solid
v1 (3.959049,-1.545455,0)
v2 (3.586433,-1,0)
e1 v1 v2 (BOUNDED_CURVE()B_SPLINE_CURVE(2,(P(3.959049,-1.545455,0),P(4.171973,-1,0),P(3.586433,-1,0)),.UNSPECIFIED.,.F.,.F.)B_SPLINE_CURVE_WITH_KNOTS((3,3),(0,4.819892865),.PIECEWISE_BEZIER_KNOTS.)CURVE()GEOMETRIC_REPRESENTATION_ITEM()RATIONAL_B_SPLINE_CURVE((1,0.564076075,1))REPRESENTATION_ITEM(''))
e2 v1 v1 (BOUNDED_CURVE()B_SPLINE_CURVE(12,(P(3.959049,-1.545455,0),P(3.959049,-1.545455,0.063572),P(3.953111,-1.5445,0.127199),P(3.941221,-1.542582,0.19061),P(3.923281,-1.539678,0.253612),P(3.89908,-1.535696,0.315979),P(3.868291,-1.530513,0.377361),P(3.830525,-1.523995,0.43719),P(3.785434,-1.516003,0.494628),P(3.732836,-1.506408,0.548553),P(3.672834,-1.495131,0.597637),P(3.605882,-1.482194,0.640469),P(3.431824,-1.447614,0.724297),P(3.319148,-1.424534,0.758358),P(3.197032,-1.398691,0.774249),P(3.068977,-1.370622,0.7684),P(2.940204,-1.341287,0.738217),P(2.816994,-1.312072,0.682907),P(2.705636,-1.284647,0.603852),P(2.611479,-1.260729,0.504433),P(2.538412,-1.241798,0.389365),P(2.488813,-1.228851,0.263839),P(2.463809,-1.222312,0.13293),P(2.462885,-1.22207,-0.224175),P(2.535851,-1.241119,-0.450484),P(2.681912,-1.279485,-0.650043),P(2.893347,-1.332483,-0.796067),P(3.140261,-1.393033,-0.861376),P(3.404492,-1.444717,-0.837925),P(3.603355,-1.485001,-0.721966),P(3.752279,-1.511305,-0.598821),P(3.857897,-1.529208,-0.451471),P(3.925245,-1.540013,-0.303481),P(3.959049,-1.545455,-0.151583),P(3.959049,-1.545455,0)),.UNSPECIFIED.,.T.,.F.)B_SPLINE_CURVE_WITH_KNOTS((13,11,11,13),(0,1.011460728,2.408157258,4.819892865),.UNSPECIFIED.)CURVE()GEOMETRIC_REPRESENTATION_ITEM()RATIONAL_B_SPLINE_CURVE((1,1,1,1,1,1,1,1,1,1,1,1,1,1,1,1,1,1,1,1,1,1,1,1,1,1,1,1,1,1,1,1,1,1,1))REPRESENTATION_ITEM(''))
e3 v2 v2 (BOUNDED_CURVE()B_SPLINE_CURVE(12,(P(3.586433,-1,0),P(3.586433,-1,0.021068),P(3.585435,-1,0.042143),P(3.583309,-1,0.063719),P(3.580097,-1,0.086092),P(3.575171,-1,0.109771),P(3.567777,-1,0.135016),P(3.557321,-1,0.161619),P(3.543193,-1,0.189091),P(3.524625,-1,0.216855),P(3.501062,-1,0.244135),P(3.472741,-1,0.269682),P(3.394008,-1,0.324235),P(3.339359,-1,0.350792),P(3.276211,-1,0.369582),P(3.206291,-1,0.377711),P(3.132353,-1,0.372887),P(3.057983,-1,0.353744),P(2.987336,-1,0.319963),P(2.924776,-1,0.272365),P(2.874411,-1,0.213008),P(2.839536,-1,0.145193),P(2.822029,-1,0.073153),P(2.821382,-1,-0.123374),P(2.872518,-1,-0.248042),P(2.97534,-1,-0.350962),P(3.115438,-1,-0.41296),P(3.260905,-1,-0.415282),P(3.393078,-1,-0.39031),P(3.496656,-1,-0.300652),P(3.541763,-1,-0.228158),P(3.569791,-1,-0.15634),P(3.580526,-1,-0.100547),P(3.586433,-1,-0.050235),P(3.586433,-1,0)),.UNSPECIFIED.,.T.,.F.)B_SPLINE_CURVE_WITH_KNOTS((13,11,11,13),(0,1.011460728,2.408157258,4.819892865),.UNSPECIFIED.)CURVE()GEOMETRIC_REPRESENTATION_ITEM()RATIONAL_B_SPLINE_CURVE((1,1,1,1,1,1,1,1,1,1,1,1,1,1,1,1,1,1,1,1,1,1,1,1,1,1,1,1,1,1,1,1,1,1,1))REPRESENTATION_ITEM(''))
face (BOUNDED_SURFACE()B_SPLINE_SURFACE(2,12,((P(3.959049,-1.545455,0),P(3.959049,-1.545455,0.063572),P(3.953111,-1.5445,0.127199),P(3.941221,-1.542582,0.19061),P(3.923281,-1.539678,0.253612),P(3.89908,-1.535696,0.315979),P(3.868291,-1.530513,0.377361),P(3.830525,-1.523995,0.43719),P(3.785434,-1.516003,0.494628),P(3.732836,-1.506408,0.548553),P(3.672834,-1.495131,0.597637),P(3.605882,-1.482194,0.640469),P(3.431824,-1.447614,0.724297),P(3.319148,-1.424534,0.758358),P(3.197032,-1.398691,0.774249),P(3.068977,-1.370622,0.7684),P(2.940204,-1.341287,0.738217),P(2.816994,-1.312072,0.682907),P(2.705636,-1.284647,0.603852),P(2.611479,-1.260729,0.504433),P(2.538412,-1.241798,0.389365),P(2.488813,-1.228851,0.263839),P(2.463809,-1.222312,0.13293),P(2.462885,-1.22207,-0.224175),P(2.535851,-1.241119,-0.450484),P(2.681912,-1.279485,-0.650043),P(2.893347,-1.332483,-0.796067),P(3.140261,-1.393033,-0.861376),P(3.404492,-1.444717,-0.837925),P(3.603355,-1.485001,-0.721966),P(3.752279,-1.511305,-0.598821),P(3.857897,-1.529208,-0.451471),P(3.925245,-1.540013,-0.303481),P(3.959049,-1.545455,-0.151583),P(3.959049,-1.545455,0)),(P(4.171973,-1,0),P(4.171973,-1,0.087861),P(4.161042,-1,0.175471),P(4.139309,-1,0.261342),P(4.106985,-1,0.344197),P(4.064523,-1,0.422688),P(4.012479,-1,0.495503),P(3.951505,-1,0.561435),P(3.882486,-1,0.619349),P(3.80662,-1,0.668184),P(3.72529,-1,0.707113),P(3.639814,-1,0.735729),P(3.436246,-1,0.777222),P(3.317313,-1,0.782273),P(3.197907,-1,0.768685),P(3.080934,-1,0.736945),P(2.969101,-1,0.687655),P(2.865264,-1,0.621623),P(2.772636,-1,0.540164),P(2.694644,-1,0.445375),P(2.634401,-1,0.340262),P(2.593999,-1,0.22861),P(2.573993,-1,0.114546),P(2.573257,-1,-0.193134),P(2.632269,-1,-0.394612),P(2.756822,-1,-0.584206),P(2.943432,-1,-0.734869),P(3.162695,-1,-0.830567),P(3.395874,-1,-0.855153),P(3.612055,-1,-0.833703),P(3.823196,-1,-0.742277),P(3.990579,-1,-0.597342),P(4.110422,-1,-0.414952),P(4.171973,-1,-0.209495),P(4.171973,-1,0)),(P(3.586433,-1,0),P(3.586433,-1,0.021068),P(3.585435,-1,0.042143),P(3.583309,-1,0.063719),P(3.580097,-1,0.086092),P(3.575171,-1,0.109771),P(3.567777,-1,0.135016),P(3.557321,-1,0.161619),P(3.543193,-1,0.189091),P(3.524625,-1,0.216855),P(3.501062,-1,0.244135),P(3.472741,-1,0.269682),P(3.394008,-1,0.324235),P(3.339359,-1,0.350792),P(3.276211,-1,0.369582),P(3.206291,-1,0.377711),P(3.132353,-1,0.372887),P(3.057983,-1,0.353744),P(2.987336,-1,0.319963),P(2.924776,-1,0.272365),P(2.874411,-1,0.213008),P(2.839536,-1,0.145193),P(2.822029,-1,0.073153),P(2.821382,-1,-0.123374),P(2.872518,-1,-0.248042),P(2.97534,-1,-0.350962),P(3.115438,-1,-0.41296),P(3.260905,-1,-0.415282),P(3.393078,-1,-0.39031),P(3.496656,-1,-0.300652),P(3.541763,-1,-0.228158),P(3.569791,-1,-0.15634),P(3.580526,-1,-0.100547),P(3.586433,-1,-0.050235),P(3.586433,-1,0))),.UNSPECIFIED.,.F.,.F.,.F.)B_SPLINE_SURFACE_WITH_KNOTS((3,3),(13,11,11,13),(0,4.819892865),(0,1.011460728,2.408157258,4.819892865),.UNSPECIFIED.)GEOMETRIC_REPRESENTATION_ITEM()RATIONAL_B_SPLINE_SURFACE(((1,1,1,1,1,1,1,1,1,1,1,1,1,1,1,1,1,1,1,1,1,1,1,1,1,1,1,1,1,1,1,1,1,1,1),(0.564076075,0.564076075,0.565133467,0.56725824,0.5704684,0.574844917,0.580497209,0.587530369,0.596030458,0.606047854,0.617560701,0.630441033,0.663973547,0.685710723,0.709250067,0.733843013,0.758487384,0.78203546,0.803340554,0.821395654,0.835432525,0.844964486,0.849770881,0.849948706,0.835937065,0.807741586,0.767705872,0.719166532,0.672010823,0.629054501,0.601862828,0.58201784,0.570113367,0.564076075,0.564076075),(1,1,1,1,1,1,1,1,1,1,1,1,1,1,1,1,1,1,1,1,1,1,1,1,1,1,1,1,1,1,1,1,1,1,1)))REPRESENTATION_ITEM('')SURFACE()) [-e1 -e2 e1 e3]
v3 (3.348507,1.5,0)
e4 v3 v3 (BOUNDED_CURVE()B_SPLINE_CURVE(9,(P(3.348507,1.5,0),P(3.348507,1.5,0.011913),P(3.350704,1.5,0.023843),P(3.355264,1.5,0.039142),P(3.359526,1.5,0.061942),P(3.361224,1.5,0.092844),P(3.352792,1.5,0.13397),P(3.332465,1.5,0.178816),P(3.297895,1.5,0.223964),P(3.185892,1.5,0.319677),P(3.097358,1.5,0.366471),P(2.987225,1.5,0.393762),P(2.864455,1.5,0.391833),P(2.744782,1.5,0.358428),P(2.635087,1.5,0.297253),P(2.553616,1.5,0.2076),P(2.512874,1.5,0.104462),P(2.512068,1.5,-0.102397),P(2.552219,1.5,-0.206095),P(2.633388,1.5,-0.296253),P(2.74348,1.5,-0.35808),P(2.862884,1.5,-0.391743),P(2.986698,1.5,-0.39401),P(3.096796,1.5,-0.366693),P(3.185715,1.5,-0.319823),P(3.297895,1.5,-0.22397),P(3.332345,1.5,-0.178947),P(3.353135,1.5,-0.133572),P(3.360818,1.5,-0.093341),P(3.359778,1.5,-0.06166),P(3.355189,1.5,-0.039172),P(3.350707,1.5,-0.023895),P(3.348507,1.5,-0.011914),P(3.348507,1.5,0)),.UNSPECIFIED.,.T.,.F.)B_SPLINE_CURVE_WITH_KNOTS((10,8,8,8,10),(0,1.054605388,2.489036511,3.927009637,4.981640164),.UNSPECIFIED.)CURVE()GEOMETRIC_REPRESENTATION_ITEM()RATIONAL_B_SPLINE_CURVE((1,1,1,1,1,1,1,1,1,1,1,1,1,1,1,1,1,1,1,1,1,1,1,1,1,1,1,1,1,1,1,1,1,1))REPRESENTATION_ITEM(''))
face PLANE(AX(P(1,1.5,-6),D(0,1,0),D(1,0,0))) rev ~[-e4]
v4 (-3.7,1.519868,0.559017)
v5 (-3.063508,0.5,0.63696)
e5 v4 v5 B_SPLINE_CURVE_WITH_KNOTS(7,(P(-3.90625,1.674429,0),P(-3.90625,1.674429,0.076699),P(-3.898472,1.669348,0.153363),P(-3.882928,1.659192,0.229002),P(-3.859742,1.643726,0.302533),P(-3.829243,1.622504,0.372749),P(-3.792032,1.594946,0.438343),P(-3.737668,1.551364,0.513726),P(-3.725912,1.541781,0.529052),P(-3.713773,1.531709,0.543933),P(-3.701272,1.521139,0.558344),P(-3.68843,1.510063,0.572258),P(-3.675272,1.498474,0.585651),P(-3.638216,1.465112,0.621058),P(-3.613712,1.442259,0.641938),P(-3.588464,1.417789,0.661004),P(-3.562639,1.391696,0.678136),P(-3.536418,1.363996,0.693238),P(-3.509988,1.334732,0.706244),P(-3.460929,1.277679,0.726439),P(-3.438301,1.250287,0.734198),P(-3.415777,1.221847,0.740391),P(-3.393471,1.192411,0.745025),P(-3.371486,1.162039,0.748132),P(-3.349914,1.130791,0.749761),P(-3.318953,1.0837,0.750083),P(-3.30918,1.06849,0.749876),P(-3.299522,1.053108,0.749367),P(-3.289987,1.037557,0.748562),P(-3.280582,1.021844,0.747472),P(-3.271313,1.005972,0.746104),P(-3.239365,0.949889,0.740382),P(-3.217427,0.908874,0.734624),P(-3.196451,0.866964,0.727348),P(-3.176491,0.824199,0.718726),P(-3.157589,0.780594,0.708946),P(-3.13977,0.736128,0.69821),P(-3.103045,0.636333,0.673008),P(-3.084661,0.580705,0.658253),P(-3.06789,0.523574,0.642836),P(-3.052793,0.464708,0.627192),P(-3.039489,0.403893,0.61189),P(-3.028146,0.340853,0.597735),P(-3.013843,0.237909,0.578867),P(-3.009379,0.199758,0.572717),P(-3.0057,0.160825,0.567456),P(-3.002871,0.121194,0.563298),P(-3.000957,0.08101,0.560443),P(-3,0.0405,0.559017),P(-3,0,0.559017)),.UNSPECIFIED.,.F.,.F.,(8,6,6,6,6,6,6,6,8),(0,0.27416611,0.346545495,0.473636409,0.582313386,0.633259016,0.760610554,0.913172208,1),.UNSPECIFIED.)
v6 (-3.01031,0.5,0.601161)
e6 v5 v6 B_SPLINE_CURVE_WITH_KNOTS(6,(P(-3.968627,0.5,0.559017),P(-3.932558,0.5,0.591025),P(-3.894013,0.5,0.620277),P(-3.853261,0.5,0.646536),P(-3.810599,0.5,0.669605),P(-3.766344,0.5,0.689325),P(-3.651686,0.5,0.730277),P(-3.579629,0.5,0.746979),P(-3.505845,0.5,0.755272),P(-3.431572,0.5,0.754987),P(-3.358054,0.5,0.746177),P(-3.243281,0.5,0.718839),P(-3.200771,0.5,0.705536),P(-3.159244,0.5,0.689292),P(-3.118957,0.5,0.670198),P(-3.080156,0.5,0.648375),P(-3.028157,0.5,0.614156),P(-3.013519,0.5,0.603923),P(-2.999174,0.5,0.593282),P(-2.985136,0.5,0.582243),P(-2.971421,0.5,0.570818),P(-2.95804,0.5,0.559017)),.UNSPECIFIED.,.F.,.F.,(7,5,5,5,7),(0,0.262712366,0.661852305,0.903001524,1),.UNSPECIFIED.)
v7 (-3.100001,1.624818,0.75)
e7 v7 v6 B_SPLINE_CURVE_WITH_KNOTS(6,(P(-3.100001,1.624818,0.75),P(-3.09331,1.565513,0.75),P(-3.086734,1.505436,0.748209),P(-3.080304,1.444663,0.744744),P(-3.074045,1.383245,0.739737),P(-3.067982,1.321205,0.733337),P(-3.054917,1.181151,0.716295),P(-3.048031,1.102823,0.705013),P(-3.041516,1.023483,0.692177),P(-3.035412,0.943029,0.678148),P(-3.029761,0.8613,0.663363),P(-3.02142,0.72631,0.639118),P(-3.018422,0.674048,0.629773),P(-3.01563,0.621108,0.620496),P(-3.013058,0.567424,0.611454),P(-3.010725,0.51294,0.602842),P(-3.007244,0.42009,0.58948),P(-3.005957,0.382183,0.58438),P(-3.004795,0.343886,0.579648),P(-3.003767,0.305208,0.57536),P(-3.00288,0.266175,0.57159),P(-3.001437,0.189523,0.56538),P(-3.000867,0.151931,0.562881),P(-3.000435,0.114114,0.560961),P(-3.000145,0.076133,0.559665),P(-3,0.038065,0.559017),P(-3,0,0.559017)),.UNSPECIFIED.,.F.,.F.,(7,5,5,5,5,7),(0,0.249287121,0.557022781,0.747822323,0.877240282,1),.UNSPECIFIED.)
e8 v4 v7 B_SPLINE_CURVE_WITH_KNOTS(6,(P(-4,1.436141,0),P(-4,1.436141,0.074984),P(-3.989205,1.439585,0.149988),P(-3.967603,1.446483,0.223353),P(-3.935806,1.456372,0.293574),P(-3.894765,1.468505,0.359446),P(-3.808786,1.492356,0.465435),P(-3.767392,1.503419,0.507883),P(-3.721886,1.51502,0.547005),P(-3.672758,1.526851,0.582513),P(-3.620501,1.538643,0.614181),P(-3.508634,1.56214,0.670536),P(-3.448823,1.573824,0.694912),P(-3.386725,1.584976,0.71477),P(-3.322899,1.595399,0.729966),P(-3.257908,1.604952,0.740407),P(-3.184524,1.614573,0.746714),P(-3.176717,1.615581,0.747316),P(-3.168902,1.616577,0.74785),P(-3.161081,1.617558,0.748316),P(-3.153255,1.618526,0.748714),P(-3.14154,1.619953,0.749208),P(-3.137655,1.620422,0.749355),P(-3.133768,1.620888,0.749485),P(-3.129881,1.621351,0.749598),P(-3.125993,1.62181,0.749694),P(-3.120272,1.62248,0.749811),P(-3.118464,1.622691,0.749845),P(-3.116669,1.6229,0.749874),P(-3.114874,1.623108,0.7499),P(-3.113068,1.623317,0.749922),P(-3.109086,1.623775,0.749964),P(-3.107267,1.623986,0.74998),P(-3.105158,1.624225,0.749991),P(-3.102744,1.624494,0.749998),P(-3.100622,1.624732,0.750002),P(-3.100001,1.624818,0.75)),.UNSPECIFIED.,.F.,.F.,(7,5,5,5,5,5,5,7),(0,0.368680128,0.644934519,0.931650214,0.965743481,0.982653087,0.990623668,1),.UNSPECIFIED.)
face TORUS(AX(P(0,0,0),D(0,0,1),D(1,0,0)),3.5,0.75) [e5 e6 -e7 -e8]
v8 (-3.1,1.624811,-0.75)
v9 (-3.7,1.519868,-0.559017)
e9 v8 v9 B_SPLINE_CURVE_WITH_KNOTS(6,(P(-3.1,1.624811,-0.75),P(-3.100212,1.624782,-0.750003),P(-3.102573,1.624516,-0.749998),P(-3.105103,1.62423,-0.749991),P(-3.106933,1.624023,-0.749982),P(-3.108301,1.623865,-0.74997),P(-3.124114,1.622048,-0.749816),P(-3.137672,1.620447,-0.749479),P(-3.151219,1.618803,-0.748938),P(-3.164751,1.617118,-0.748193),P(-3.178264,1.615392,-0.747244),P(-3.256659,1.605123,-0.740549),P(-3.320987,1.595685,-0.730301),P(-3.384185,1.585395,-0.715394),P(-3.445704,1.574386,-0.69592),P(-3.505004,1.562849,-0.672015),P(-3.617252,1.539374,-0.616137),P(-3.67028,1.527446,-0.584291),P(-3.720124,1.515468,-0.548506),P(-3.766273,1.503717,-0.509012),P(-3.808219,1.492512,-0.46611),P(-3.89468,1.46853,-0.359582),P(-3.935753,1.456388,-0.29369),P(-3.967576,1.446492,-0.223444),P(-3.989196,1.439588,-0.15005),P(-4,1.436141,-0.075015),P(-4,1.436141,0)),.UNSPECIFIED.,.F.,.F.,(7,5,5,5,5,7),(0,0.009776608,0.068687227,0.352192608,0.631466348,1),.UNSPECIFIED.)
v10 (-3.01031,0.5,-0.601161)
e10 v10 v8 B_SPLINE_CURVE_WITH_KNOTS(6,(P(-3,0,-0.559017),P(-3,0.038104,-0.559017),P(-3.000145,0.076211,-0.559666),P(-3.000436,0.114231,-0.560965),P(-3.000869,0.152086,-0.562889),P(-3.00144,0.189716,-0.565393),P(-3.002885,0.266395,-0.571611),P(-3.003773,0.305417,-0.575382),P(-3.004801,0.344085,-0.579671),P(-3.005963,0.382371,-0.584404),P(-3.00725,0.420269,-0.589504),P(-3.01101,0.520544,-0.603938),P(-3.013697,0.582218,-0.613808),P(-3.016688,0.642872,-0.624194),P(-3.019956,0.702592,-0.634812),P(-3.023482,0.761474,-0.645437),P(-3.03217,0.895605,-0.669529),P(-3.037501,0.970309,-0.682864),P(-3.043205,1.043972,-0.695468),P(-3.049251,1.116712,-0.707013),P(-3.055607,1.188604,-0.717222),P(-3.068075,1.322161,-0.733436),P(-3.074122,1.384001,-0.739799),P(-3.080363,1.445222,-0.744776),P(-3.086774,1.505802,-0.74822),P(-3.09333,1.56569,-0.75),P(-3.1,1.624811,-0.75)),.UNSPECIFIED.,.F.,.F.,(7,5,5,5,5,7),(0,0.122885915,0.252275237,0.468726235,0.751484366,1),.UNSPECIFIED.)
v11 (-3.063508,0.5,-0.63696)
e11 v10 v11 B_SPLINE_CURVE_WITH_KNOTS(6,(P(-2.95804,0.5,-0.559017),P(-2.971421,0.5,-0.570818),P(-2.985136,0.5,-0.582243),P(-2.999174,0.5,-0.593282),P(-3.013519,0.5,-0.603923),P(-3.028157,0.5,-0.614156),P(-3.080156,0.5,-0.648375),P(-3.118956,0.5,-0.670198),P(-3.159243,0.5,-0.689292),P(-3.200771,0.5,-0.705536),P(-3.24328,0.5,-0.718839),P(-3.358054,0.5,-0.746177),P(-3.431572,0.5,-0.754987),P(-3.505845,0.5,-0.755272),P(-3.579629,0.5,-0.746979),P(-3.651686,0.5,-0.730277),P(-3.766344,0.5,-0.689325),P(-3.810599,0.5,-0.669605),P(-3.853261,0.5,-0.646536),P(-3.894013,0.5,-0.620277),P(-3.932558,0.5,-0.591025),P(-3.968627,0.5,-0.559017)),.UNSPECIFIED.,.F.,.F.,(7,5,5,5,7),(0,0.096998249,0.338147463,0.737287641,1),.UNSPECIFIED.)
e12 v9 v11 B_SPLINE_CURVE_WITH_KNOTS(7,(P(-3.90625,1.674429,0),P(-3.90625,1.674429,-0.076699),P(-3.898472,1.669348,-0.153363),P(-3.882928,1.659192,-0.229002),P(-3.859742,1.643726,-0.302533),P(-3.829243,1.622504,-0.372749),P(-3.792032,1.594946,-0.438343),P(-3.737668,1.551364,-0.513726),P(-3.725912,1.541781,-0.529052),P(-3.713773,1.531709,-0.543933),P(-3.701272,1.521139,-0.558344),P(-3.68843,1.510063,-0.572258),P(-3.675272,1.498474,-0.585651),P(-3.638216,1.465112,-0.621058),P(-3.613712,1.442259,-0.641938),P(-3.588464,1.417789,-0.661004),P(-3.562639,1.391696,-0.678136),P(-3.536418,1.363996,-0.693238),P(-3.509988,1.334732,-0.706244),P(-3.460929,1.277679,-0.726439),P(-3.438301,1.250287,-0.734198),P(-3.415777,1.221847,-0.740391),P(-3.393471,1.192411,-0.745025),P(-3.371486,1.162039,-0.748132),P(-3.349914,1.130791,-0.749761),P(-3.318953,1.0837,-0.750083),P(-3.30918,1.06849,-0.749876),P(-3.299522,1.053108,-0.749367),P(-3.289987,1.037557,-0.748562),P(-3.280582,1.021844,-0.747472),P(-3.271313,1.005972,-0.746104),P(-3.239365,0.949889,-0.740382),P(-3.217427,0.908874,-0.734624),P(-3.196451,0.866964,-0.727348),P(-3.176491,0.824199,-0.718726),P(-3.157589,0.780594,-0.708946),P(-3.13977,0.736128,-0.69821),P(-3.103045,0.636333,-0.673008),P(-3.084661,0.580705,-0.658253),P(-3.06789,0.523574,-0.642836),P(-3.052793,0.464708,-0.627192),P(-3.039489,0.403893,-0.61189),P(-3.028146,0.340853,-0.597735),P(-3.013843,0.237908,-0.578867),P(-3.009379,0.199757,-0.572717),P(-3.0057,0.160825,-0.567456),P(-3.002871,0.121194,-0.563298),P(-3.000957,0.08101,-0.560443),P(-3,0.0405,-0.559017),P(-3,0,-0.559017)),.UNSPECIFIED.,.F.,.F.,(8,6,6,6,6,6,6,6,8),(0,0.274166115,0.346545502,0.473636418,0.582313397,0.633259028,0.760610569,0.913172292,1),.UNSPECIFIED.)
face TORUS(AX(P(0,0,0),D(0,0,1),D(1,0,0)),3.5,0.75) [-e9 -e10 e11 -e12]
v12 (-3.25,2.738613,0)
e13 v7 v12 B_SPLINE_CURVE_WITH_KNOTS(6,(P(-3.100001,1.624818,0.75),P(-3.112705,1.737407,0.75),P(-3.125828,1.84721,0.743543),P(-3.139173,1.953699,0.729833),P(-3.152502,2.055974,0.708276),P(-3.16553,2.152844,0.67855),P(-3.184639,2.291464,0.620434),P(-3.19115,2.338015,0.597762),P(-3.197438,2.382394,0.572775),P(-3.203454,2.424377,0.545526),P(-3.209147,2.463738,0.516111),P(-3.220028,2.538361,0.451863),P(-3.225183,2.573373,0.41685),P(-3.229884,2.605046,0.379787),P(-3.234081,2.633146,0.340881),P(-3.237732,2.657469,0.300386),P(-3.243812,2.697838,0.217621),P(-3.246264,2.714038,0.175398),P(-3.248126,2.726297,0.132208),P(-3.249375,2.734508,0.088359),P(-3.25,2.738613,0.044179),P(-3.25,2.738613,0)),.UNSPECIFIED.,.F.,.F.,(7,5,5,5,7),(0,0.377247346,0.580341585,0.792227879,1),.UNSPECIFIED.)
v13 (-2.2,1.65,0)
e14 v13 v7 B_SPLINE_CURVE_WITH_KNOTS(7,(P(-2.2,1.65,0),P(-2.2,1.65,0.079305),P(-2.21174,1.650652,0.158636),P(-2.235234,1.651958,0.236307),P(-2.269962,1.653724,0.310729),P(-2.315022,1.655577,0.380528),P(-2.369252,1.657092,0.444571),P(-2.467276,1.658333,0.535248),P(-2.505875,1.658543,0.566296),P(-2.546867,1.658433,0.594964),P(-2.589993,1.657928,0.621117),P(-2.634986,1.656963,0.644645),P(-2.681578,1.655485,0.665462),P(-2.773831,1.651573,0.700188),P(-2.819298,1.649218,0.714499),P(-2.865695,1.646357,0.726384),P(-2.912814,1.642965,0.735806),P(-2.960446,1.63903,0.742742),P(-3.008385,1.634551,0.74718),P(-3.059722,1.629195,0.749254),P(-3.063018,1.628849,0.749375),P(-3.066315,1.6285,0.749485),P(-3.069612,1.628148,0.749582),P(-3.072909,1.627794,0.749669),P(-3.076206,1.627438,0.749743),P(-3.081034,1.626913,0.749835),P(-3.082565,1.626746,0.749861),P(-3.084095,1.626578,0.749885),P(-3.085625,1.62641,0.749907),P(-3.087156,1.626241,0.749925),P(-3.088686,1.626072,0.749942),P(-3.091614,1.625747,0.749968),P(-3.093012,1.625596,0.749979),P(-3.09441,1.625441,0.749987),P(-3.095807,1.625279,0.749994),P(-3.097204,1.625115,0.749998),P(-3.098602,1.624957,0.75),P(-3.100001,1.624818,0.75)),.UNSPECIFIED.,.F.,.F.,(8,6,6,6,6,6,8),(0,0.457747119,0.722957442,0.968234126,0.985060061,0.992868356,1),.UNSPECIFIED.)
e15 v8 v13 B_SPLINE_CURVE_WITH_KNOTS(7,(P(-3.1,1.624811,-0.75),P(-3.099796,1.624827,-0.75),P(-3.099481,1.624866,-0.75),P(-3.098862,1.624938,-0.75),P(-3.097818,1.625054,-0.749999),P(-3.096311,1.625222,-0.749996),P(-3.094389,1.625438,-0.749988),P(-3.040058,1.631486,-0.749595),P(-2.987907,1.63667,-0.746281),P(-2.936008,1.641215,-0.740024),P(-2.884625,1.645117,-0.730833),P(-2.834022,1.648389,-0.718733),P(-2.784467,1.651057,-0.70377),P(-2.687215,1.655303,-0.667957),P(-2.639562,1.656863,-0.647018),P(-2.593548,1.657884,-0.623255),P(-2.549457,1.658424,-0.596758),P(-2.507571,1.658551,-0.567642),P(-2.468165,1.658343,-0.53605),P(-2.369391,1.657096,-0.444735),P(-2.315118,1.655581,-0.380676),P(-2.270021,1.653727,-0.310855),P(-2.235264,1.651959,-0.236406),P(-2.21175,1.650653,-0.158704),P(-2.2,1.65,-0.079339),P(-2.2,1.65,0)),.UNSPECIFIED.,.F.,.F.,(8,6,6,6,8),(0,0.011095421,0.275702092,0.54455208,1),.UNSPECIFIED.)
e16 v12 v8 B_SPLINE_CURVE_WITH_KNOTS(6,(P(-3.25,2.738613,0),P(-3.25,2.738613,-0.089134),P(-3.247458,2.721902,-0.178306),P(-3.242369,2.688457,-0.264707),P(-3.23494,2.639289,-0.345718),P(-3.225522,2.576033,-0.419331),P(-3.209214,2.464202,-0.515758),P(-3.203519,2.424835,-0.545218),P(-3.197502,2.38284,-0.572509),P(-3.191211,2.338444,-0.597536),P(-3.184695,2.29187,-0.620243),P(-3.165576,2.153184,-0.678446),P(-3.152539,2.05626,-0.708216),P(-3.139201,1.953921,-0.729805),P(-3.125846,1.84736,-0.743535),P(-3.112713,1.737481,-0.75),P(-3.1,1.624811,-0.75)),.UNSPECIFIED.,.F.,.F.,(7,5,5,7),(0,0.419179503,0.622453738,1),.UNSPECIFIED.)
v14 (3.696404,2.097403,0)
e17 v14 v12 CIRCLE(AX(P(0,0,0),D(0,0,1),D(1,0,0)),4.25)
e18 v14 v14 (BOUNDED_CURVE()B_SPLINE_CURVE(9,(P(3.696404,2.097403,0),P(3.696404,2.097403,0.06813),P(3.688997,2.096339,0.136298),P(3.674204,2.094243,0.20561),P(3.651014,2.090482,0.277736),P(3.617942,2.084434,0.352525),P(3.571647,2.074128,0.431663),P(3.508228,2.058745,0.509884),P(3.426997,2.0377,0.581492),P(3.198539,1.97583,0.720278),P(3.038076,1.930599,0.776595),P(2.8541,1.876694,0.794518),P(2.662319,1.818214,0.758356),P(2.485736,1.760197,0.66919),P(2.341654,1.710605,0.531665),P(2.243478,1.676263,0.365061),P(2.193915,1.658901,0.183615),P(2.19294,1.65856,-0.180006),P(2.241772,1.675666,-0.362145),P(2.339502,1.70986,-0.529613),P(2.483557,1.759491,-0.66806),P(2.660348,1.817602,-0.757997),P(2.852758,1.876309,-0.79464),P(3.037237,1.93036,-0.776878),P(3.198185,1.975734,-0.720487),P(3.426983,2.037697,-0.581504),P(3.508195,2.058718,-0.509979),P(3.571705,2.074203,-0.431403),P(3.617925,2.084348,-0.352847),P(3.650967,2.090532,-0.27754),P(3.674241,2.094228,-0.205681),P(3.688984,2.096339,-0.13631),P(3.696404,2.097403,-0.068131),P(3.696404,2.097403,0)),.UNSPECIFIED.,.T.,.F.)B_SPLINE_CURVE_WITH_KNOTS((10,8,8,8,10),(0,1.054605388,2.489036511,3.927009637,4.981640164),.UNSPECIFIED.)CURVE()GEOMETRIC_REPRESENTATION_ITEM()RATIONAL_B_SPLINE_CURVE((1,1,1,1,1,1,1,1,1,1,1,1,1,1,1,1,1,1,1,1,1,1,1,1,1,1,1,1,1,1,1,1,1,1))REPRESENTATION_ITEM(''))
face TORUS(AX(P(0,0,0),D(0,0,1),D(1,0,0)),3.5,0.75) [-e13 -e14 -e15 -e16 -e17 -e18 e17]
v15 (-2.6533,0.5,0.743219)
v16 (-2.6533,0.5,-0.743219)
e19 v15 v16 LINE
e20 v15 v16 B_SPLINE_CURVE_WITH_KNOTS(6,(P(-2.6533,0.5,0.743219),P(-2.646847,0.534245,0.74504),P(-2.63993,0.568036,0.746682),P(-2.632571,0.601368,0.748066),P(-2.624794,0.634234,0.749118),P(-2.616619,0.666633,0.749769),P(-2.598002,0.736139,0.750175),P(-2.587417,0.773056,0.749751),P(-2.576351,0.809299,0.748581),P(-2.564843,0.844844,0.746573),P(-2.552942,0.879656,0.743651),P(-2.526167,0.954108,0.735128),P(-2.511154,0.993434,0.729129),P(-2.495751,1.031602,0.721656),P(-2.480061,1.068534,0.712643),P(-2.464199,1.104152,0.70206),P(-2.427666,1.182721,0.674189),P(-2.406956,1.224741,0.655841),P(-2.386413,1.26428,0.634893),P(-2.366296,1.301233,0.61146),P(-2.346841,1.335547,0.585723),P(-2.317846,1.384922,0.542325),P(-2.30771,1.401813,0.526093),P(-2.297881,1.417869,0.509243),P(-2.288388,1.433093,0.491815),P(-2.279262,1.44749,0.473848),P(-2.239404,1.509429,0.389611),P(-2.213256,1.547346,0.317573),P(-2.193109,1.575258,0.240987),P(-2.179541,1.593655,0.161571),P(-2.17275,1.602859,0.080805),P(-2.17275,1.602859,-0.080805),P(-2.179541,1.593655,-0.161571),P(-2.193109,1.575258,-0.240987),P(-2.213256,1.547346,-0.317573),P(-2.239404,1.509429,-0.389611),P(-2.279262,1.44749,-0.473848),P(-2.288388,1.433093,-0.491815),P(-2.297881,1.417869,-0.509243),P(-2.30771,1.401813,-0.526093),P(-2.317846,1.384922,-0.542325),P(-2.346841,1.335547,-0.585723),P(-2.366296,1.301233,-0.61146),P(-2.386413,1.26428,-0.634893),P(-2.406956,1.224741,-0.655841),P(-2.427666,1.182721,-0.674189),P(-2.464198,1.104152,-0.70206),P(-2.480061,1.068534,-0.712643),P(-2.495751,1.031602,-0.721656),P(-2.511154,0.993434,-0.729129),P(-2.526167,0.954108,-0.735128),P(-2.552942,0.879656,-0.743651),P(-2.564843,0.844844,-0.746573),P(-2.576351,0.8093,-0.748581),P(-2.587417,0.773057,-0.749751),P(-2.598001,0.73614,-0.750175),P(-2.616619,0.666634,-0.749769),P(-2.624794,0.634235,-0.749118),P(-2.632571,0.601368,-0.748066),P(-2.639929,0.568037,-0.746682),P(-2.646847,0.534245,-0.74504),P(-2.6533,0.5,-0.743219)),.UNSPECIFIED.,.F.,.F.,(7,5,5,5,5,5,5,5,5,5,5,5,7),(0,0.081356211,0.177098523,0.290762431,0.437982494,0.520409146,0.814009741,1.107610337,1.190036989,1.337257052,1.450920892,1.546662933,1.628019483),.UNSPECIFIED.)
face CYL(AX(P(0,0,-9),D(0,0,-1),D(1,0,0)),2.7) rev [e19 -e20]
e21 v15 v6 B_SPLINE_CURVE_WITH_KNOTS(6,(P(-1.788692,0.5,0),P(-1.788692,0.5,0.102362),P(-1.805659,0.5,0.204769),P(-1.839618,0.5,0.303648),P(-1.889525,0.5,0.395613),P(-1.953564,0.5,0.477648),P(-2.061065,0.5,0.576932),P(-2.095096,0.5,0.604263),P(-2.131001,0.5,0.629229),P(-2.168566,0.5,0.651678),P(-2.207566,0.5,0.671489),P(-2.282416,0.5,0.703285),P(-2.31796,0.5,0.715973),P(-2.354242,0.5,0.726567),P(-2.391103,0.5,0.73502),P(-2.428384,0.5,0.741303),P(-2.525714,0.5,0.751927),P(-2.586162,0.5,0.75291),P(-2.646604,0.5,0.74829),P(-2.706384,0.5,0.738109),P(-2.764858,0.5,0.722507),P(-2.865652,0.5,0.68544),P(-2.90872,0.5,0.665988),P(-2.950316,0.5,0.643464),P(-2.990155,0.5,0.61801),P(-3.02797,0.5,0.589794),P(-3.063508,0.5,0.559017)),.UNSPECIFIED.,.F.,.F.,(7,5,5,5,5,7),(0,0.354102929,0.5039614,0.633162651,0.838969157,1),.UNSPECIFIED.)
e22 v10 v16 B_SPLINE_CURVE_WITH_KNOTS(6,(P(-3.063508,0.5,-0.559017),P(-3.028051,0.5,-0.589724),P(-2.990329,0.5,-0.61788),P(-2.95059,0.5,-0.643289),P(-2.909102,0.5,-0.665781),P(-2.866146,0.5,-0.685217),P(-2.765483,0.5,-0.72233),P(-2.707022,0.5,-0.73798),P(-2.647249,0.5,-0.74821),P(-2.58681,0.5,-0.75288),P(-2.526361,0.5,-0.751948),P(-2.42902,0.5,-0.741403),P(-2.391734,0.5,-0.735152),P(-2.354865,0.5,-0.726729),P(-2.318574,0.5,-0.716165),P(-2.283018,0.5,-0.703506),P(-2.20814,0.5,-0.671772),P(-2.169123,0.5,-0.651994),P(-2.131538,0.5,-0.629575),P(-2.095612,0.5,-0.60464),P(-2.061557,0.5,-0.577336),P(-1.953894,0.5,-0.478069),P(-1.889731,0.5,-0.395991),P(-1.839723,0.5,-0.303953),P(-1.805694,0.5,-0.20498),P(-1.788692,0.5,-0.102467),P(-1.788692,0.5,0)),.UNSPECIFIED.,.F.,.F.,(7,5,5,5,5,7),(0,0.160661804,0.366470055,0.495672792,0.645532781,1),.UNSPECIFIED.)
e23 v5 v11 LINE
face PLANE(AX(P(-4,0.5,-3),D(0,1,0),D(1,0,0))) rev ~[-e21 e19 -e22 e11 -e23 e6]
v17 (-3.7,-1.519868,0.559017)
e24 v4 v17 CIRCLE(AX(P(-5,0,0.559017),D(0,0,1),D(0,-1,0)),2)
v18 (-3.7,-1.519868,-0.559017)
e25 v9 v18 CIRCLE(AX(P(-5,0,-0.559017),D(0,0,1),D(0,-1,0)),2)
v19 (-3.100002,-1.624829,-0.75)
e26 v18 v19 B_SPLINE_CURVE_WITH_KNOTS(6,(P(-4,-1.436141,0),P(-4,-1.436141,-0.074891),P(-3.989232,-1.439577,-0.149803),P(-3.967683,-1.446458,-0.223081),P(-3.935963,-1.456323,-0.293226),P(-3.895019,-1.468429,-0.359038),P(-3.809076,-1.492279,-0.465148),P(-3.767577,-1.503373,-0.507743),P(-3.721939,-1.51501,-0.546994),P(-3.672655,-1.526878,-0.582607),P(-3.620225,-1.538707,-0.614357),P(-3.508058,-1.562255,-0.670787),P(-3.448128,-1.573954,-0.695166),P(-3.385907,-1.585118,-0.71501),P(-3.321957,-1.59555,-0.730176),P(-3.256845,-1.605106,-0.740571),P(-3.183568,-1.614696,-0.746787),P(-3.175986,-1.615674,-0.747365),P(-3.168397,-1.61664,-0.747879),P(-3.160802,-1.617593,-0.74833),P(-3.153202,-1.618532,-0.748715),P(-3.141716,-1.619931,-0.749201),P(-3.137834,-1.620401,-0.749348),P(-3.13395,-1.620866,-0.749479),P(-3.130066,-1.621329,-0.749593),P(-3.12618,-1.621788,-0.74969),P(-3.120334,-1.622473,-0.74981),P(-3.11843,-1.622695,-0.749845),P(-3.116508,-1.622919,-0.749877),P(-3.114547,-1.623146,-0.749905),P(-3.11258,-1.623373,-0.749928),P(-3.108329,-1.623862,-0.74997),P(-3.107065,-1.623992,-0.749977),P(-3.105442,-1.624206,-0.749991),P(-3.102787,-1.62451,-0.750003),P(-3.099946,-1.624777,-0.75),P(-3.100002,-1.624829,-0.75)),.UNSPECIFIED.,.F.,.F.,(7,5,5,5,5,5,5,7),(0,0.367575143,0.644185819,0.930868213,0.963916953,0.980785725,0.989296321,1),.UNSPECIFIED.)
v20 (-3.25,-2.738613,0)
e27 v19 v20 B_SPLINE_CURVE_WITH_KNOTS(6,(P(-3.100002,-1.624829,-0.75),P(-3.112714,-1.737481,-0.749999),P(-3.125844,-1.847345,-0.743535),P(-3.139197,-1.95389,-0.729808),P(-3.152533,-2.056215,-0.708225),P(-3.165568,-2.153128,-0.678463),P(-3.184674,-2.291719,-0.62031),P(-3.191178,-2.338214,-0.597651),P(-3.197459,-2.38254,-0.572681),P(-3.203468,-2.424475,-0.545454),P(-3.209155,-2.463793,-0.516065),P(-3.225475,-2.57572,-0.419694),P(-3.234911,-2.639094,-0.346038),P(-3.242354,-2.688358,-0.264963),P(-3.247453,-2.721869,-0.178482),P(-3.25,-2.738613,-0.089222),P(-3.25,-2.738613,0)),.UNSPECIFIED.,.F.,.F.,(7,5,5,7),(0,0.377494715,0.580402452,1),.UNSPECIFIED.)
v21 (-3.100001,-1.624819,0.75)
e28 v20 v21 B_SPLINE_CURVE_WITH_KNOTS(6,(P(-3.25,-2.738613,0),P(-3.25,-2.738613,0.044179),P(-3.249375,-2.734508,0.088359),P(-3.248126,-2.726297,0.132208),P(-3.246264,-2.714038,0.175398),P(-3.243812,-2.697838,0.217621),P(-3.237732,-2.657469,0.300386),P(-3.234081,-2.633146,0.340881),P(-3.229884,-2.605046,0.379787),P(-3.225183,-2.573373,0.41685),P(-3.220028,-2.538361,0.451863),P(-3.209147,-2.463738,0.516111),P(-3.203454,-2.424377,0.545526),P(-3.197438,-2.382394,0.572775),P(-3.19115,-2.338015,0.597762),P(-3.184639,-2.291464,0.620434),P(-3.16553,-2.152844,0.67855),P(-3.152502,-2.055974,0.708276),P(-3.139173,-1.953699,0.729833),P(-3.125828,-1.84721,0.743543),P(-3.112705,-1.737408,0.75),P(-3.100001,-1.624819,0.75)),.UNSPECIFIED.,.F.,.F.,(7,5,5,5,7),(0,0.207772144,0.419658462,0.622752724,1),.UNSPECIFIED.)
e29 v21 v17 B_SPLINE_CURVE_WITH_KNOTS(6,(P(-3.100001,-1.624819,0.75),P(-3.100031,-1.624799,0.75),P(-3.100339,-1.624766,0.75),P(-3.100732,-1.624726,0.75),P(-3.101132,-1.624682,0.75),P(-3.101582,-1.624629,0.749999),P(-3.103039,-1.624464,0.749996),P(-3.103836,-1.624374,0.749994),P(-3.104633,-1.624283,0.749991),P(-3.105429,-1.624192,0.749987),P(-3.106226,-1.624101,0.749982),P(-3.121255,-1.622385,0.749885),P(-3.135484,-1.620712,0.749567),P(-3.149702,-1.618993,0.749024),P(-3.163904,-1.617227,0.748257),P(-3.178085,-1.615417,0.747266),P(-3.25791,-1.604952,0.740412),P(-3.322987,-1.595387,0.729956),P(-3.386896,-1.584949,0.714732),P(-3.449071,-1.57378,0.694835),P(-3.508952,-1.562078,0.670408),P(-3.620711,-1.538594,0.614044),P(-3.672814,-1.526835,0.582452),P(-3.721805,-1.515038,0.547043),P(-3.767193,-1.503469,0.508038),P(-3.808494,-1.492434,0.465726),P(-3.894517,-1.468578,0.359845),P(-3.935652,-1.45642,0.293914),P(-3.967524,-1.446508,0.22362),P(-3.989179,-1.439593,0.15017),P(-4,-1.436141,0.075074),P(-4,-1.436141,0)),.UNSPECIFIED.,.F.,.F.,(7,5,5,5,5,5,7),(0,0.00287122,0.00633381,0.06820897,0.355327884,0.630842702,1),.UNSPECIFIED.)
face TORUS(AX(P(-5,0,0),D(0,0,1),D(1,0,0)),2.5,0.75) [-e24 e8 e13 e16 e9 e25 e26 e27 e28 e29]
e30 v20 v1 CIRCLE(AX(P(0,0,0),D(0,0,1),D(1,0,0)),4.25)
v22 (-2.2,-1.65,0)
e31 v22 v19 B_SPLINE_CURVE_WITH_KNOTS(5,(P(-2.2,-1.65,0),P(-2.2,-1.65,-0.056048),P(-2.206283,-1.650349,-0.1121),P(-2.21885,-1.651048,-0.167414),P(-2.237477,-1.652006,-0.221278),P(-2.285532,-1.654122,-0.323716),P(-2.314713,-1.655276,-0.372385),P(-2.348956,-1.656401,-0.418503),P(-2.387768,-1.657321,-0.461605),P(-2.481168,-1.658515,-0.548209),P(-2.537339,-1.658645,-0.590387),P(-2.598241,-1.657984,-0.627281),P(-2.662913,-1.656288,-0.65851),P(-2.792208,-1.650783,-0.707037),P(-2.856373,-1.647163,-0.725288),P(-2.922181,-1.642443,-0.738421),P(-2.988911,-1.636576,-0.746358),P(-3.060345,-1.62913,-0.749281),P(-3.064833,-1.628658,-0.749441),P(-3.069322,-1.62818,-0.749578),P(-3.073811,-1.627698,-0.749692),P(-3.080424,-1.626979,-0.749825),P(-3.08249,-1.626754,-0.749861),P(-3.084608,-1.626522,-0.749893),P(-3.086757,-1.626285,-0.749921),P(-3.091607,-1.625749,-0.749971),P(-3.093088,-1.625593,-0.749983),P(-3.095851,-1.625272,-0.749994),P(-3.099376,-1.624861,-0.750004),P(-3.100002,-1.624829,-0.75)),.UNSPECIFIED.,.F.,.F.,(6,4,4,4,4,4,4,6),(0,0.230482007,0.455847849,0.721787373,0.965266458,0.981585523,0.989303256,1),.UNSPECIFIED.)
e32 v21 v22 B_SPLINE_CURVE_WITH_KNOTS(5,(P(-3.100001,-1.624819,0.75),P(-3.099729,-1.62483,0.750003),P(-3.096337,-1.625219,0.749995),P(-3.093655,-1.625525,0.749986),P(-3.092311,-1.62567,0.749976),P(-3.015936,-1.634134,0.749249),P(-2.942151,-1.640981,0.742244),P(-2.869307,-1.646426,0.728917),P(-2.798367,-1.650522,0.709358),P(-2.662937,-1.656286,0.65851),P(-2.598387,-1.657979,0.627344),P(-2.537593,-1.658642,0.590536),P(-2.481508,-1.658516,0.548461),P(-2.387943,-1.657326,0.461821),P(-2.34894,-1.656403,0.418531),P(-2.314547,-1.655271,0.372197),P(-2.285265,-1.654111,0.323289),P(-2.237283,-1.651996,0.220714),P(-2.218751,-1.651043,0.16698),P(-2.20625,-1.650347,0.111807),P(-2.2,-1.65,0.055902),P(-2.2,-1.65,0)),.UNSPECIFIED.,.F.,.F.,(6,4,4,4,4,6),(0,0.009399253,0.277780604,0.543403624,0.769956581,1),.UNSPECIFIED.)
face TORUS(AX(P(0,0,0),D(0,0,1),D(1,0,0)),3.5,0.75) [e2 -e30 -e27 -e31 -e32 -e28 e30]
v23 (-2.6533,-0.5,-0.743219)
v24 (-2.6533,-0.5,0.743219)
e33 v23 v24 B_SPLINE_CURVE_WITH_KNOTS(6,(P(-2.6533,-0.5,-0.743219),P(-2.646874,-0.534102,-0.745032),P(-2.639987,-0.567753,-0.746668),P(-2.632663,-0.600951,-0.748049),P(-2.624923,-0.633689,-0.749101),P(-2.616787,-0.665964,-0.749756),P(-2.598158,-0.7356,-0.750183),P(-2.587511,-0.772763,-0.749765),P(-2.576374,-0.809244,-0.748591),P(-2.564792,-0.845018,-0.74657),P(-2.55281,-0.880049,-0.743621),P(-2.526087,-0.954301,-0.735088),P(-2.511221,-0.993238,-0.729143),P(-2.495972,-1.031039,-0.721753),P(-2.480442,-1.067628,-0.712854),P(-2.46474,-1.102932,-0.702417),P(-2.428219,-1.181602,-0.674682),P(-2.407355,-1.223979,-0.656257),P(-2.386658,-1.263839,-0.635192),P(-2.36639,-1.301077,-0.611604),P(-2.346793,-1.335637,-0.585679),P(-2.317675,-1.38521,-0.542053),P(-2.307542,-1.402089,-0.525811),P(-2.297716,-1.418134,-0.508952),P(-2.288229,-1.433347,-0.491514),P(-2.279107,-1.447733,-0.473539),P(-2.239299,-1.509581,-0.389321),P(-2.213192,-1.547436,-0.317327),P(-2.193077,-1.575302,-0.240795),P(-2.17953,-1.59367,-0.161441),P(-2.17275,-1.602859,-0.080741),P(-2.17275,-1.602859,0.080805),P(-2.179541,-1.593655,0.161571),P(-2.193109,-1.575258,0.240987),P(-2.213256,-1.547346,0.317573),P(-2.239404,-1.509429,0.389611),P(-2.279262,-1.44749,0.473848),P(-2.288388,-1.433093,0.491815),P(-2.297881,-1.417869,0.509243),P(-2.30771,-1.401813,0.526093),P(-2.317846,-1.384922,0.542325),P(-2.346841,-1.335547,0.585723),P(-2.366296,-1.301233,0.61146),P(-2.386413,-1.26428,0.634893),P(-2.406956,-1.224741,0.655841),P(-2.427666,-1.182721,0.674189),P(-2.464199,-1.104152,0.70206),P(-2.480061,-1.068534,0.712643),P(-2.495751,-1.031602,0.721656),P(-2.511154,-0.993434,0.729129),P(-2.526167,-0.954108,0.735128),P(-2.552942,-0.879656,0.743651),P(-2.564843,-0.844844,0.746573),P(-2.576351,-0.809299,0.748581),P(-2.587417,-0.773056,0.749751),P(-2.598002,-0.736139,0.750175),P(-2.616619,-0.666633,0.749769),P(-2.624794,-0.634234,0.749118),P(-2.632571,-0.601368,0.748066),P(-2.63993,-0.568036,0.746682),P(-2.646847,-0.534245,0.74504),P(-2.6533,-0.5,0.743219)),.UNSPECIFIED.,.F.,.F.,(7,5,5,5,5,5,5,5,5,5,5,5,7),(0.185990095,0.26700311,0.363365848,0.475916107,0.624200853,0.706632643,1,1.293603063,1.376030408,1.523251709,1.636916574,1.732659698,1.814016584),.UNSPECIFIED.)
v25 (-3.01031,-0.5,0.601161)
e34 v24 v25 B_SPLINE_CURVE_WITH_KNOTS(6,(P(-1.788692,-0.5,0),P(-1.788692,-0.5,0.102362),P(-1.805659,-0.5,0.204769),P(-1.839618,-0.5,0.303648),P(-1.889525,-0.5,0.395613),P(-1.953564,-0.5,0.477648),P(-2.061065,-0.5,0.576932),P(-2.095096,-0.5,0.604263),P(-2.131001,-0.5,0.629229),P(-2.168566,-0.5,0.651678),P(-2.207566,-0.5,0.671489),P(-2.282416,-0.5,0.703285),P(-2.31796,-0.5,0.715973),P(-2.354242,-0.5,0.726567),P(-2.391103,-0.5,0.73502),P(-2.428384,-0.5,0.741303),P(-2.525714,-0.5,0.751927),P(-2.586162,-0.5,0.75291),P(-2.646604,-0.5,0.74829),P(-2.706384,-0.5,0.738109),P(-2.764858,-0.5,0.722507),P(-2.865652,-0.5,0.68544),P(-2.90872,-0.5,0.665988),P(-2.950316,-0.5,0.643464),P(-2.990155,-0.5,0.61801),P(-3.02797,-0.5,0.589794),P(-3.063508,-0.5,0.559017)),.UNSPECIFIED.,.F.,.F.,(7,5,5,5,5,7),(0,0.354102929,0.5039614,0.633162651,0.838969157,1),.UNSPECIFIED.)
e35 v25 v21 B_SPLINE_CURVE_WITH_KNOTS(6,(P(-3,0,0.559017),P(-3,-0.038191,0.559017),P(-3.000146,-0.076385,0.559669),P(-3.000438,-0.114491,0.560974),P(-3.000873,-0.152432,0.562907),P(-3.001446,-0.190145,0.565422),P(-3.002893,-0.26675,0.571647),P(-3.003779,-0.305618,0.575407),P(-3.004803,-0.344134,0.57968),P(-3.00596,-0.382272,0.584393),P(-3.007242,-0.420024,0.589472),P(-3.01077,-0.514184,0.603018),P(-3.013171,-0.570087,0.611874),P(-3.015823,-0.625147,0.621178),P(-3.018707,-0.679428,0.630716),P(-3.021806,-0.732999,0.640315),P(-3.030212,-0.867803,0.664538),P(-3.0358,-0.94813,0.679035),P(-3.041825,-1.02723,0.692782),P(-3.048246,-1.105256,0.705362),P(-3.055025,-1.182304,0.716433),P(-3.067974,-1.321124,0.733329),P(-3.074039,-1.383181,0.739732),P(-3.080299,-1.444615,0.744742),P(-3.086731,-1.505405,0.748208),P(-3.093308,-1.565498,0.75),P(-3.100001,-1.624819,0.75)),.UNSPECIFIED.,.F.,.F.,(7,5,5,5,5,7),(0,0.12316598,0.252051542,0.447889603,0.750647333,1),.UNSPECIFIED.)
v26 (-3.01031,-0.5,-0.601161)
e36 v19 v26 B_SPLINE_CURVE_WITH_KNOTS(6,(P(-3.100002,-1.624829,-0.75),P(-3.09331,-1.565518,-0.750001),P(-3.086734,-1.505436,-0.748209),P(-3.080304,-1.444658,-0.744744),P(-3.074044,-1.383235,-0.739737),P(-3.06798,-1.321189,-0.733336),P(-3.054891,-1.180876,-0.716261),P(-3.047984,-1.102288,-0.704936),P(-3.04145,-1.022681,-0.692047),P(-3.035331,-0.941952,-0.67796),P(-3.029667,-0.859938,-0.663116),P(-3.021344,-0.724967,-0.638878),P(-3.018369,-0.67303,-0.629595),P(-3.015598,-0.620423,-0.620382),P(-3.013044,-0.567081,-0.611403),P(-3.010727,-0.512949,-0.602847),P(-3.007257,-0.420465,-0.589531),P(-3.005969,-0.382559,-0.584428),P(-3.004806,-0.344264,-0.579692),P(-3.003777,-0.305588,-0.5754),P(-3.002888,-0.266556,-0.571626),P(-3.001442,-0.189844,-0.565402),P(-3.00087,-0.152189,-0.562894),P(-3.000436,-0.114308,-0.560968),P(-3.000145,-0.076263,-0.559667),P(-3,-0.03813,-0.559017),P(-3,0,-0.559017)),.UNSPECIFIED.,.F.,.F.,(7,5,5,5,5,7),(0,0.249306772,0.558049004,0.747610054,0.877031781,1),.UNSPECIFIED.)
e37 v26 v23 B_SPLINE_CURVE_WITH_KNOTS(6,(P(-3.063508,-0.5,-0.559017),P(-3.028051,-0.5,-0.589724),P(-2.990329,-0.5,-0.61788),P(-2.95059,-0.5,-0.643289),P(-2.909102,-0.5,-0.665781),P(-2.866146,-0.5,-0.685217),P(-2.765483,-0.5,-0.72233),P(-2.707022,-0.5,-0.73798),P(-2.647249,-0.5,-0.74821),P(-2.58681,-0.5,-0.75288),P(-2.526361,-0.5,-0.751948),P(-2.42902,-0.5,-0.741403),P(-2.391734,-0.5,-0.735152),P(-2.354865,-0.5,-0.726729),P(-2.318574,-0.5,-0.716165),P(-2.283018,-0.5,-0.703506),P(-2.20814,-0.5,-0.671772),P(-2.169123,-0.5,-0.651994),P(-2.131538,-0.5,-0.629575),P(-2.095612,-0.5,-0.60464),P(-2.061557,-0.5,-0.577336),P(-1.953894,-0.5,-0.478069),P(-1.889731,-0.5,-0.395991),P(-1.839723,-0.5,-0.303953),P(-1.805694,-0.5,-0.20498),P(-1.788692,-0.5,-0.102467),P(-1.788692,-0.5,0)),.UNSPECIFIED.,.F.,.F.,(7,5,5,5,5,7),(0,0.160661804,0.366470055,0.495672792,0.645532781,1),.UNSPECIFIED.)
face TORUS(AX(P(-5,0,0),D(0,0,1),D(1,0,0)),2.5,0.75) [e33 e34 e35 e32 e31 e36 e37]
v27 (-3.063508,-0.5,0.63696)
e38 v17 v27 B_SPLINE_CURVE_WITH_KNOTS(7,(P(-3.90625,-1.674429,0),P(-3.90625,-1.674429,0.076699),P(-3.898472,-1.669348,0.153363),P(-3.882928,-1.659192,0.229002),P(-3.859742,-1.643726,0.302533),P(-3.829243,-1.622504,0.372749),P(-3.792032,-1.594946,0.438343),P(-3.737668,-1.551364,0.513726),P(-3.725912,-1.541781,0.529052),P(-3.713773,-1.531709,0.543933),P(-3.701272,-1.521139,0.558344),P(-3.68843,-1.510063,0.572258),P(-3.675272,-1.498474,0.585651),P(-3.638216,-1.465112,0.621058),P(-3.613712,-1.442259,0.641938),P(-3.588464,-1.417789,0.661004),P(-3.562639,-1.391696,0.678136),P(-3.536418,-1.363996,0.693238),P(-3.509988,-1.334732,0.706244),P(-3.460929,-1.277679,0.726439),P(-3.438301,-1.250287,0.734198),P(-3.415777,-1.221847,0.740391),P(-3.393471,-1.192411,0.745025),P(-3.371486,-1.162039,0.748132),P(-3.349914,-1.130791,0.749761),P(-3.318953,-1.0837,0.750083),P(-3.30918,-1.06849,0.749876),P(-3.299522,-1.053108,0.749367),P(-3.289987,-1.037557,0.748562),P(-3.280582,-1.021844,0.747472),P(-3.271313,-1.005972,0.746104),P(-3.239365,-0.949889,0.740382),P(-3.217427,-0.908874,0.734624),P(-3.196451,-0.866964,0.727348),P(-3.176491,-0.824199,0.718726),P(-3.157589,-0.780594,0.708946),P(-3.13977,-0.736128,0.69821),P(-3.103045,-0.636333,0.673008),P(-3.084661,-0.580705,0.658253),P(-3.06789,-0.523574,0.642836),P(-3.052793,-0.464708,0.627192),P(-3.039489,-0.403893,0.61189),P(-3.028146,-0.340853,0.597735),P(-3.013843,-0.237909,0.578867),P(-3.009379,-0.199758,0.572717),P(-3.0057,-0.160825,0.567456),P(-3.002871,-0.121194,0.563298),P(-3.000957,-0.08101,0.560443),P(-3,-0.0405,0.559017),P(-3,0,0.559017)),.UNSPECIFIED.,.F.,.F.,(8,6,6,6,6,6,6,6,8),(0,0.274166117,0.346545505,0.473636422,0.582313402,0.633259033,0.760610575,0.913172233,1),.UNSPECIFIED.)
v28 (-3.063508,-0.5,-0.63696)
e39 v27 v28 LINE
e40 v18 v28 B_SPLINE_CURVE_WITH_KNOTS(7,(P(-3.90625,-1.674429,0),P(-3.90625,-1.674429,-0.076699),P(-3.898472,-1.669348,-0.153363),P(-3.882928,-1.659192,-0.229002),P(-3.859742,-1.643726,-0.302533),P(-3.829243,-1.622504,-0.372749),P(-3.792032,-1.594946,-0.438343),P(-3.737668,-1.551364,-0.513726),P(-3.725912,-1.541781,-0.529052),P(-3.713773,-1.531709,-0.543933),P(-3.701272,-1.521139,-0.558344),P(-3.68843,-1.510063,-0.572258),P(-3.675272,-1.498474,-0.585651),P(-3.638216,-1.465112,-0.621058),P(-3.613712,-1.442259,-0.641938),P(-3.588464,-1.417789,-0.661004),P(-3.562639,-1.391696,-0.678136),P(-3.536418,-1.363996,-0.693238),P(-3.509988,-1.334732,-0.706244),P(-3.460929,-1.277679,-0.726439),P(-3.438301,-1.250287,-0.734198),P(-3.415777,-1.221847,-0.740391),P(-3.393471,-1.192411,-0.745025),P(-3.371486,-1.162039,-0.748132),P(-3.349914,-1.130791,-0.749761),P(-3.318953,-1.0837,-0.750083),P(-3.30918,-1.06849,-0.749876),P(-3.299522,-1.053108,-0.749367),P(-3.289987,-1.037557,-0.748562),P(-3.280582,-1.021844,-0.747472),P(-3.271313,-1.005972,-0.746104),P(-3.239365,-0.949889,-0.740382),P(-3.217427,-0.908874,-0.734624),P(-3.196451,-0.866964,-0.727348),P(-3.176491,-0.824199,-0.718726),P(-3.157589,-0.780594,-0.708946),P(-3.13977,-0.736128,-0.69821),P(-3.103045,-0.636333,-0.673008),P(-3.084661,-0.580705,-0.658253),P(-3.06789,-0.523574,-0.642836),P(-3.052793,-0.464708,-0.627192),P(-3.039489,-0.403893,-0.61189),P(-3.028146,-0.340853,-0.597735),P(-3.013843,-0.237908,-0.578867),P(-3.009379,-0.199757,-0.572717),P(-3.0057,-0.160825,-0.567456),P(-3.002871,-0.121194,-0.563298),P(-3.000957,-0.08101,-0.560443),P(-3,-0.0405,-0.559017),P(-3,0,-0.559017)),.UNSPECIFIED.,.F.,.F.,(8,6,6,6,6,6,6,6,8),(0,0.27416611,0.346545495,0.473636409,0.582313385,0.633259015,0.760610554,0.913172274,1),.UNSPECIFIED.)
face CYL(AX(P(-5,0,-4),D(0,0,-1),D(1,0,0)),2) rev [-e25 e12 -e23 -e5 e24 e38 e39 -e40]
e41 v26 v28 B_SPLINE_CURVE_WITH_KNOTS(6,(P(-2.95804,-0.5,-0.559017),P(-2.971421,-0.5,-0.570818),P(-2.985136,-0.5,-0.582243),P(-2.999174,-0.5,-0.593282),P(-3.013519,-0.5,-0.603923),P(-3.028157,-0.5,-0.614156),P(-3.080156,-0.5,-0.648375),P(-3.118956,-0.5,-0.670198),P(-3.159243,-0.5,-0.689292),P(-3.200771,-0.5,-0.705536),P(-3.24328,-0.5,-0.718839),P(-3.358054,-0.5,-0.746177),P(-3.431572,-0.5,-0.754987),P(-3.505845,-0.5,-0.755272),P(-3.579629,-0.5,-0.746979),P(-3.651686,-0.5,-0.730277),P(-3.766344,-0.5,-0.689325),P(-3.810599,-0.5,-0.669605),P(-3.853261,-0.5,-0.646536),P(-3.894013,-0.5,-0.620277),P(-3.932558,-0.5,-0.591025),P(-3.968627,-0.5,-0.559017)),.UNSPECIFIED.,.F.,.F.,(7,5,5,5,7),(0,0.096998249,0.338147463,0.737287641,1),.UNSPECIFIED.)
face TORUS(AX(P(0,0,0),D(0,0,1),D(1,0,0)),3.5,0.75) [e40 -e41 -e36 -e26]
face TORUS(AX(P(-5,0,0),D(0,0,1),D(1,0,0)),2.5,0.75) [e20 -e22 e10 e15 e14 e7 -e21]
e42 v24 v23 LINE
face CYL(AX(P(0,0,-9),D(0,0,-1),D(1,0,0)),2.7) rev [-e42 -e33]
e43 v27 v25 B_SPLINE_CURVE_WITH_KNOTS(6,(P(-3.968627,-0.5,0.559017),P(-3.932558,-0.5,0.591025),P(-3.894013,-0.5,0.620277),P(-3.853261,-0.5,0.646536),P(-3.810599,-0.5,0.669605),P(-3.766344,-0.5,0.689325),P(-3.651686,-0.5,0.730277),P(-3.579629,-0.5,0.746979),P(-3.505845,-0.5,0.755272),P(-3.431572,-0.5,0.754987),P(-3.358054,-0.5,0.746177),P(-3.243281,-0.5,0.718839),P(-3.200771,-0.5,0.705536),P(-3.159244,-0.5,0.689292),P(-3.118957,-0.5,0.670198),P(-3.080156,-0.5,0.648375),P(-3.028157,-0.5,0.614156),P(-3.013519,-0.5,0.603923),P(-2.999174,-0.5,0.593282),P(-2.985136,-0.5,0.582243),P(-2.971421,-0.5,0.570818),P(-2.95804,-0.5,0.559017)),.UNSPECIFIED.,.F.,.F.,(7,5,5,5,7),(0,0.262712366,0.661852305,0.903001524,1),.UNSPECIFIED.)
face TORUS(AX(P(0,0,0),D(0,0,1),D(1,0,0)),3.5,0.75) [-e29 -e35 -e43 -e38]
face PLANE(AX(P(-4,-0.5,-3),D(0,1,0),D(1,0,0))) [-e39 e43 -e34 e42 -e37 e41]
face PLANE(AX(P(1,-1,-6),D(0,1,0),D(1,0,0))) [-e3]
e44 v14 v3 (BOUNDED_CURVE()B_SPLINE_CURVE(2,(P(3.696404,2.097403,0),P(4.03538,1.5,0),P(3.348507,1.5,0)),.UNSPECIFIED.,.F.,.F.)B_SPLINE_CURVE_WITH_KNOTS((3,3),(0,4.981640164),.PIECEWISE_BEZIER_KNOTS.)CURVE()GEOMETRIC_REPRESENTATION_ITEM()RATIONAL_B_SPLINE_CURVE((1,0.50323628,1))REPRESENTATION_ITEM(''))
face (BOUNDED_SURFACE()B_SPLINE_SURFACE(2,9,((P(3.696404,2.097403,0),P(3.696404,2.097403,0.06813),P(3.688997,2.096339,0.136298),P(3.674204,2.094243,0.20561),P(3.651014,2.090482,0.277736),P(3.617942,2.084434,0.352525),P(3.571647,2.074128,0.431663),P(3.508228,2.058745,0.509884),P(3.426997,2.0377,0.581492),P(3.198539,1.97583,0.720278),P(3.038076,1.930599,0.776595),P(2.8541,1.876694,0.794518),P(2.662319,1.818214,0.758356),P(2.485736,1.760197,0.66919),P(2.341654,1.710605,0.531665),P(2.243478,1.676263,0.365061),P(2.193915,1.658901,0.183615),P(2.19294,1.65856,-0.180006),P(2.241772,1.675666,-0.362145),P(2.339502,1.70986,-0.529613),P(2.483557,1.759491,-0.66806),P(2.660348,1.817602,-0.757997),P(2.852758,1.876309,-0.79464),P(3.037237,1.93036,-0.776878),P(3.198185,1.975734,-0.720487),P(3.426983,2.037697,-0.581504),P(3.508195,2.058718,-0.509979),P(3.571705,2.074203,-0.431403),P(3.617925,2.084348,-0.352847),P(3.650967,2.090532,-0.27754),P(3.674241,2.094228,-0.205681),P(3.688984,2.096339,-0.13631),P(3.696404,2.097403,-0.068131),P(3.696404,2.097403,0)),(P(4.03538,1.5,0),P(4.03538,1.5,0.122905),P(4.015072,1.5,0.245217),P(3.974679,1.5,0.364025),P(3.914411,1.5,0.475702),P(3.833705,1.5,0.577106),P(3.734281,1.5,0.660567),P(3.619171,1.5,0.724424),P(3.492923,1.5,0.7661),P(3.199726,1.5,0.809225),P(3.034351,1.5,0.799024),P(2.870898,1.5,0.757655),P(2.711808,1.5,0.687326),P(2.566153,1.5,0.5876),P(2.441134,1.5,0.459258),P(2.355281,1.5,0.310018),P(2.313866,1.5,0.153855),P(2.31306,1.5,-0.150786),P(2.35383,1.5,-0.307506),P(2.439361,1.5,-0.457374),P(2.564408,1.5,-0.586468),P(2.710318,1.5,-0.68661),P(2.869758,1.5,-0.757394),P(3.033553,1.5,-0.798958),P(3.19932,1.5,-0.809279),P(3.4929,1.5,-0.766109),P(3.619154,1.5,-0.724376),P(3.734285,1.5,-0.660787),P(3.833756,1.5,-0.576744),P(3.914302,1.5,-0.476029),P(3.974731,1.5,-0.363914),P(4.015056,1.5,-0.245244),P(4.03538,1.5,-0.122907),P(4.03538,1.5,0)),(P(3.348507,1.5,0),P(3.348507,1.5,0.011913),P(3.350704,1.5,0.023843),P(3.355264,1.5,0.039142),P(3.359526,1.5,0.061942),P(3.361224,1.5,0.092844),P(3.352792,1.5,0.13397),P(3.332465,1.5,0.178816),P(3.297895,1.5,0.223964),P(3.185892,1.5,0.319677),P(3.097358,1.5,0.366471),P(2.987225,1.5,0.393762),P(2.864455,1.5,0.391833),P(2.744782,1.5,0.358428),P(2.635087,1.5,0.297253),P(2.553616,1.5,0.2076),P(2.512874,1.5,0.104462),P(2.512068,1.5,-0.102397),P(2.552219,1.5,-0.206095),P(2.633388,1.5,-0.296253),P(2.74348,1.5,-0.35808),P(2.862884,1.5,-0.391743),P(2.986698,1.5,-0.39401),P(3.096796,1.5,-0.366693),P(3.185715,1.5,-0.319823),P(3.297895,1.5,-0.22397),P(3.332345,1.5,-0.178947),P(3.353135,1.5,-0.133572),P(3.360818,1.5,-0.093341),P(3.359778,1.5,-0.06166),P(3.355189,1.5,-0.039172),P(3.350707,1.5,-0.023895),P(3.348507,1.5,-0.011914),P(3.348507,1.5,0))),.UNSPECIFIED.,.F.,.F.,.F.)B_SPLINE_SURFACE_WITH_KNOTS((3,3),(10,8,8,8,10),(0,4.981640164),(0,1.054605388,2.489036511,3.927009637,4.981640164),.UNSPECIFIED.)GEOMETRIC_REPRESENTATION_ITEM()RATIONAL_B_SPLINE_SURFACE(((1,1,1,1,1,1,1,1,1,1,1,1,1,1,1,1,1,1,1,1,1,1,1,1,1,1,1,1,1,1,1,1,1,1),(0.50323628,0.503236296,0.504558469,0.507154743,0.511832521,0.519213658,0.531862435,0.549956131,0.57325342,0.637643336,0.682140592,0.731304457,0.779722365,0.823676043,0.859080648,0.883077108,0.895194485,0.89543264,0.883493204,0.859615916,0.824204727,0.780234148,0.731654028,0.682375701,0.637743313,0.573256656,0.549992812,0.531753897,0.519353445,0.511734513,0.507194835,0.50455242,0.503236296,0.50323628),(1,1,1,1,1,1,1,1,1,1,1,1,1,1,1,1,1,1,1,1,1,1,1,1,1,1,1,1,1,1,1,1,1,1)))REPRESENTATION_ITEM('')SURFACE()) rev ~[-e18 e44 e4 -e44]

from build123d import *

# Parameters (mm, degrees)
BOX001_W          = 4
BOX001_H          = 2.5
BOX001_DEPTH      = 10
BOX_W             = 3
BOX_H             = 1
BOX_DEPTH         = 5
CYLINDER001_R     = 2.7
CYLINDER001_DEPTH = 10
CYLINDER_R        = 2
CYLINDER_DEPTH    = 10
TORUS_R           = 0.75
TORUS001_R        = 0.75
FILLET_R          = 0.4
FILLET001_R       = 0.4


with BuildPart() as cubo001:
    # Box001 → Box001 (new body)
    with BuildSketch(Plane(origin=(1, -1, -6), x_dir=(1, 0, 0), z_dir=(0, 0, 1))):
        with Locations((2, 1.25)):
            Rectangle(BOX001_W, BOX001_H)
    extrude(amount=BOX001_DEPTH)


with BuildPart() as cubo:
    # Box → Box (new body)
    with BuildSketch(Plane(origin=(-4, -0.5, -3), x_dir=(1, 0, 0), z_dir=(0, 0, 1))):
        with Locations((1.5, 0.5)):
            Rectangle(BOX_W, BOX_H)
    extrude(amount=BOX_DEPTH)


with BuildPart() as cilindro001:
    # Cylinder001 → Cylinder001 (new body)
    with BuildSketch(Plane.XY.offset(-9)):
        Circle(CYLINDER001_R)
    extrude(amount=CYLINDER001_DEPTH)


with BuildPart() as cilindro:
    # Cylinder → Cylinder (new body)
    with BuildSketch(Plane(origin=(-5, 0, -4), x_dir=(1, 0, 0), z_dir=(0, 0, 1))):
        Circle(CYLINDER_R)
    extrude(amount=CYLINDER_DEPTH)


with BuildPart() as toro:
    # Torus → Torus (revolve)
    with BuildSketch(Plane.XZ):
        with Locations((3.5, 0)):
            Circle(TORUS_R)
    revolve(axis=Axis((0, 0, 0), (0, 0, 1)))


with BuildPart() as fillet001:
    # Torus001 → Torus001 (revolve)
    with BuildSketch(Plane(origin=(-5, 0, 0), x_dir=(1, 0, 0), z_dir=(0, -1, 0))):
        with Locations((2.5, 0)):
            Circle(TORUS001_R)
    revolve(axis=Axis((-5, 0, 0), (0, 0, 1)))

    # Fusion: union Toro
    add(toro.part)

    # Cut: cut Cilindro
    add(cilindro.part, mode=Mode.SUBTRACT)

    # Cut001: cut Cilindro001
    add(cilindro001.part, mode=Mode.SUBTRACT)

    # Cut002: cut Cubo
    add(cubo.part, mode=Mode.SUBTRACT)

    # Cut003: cut Cubo001
    add(cubo001.part, mode=Mode.SUBTRACT)

    # Fillet
    fillet_edges = [fillet001.edges().sort_by_distance(p)[0] for p in [
        (2.561738, -1, 0),
    ]]
    fillet(fillet_edges, radius=FILLET_R)

    # Fillet001
    fillet001_edges = [fillet001.edges().sort_by_distance(p)[0] for p in [
        (2.304886, 1.5, 0),
    ]]
    fillet(fillet001_edges, radius=FILLET001_R)


solid = fillet001.part
